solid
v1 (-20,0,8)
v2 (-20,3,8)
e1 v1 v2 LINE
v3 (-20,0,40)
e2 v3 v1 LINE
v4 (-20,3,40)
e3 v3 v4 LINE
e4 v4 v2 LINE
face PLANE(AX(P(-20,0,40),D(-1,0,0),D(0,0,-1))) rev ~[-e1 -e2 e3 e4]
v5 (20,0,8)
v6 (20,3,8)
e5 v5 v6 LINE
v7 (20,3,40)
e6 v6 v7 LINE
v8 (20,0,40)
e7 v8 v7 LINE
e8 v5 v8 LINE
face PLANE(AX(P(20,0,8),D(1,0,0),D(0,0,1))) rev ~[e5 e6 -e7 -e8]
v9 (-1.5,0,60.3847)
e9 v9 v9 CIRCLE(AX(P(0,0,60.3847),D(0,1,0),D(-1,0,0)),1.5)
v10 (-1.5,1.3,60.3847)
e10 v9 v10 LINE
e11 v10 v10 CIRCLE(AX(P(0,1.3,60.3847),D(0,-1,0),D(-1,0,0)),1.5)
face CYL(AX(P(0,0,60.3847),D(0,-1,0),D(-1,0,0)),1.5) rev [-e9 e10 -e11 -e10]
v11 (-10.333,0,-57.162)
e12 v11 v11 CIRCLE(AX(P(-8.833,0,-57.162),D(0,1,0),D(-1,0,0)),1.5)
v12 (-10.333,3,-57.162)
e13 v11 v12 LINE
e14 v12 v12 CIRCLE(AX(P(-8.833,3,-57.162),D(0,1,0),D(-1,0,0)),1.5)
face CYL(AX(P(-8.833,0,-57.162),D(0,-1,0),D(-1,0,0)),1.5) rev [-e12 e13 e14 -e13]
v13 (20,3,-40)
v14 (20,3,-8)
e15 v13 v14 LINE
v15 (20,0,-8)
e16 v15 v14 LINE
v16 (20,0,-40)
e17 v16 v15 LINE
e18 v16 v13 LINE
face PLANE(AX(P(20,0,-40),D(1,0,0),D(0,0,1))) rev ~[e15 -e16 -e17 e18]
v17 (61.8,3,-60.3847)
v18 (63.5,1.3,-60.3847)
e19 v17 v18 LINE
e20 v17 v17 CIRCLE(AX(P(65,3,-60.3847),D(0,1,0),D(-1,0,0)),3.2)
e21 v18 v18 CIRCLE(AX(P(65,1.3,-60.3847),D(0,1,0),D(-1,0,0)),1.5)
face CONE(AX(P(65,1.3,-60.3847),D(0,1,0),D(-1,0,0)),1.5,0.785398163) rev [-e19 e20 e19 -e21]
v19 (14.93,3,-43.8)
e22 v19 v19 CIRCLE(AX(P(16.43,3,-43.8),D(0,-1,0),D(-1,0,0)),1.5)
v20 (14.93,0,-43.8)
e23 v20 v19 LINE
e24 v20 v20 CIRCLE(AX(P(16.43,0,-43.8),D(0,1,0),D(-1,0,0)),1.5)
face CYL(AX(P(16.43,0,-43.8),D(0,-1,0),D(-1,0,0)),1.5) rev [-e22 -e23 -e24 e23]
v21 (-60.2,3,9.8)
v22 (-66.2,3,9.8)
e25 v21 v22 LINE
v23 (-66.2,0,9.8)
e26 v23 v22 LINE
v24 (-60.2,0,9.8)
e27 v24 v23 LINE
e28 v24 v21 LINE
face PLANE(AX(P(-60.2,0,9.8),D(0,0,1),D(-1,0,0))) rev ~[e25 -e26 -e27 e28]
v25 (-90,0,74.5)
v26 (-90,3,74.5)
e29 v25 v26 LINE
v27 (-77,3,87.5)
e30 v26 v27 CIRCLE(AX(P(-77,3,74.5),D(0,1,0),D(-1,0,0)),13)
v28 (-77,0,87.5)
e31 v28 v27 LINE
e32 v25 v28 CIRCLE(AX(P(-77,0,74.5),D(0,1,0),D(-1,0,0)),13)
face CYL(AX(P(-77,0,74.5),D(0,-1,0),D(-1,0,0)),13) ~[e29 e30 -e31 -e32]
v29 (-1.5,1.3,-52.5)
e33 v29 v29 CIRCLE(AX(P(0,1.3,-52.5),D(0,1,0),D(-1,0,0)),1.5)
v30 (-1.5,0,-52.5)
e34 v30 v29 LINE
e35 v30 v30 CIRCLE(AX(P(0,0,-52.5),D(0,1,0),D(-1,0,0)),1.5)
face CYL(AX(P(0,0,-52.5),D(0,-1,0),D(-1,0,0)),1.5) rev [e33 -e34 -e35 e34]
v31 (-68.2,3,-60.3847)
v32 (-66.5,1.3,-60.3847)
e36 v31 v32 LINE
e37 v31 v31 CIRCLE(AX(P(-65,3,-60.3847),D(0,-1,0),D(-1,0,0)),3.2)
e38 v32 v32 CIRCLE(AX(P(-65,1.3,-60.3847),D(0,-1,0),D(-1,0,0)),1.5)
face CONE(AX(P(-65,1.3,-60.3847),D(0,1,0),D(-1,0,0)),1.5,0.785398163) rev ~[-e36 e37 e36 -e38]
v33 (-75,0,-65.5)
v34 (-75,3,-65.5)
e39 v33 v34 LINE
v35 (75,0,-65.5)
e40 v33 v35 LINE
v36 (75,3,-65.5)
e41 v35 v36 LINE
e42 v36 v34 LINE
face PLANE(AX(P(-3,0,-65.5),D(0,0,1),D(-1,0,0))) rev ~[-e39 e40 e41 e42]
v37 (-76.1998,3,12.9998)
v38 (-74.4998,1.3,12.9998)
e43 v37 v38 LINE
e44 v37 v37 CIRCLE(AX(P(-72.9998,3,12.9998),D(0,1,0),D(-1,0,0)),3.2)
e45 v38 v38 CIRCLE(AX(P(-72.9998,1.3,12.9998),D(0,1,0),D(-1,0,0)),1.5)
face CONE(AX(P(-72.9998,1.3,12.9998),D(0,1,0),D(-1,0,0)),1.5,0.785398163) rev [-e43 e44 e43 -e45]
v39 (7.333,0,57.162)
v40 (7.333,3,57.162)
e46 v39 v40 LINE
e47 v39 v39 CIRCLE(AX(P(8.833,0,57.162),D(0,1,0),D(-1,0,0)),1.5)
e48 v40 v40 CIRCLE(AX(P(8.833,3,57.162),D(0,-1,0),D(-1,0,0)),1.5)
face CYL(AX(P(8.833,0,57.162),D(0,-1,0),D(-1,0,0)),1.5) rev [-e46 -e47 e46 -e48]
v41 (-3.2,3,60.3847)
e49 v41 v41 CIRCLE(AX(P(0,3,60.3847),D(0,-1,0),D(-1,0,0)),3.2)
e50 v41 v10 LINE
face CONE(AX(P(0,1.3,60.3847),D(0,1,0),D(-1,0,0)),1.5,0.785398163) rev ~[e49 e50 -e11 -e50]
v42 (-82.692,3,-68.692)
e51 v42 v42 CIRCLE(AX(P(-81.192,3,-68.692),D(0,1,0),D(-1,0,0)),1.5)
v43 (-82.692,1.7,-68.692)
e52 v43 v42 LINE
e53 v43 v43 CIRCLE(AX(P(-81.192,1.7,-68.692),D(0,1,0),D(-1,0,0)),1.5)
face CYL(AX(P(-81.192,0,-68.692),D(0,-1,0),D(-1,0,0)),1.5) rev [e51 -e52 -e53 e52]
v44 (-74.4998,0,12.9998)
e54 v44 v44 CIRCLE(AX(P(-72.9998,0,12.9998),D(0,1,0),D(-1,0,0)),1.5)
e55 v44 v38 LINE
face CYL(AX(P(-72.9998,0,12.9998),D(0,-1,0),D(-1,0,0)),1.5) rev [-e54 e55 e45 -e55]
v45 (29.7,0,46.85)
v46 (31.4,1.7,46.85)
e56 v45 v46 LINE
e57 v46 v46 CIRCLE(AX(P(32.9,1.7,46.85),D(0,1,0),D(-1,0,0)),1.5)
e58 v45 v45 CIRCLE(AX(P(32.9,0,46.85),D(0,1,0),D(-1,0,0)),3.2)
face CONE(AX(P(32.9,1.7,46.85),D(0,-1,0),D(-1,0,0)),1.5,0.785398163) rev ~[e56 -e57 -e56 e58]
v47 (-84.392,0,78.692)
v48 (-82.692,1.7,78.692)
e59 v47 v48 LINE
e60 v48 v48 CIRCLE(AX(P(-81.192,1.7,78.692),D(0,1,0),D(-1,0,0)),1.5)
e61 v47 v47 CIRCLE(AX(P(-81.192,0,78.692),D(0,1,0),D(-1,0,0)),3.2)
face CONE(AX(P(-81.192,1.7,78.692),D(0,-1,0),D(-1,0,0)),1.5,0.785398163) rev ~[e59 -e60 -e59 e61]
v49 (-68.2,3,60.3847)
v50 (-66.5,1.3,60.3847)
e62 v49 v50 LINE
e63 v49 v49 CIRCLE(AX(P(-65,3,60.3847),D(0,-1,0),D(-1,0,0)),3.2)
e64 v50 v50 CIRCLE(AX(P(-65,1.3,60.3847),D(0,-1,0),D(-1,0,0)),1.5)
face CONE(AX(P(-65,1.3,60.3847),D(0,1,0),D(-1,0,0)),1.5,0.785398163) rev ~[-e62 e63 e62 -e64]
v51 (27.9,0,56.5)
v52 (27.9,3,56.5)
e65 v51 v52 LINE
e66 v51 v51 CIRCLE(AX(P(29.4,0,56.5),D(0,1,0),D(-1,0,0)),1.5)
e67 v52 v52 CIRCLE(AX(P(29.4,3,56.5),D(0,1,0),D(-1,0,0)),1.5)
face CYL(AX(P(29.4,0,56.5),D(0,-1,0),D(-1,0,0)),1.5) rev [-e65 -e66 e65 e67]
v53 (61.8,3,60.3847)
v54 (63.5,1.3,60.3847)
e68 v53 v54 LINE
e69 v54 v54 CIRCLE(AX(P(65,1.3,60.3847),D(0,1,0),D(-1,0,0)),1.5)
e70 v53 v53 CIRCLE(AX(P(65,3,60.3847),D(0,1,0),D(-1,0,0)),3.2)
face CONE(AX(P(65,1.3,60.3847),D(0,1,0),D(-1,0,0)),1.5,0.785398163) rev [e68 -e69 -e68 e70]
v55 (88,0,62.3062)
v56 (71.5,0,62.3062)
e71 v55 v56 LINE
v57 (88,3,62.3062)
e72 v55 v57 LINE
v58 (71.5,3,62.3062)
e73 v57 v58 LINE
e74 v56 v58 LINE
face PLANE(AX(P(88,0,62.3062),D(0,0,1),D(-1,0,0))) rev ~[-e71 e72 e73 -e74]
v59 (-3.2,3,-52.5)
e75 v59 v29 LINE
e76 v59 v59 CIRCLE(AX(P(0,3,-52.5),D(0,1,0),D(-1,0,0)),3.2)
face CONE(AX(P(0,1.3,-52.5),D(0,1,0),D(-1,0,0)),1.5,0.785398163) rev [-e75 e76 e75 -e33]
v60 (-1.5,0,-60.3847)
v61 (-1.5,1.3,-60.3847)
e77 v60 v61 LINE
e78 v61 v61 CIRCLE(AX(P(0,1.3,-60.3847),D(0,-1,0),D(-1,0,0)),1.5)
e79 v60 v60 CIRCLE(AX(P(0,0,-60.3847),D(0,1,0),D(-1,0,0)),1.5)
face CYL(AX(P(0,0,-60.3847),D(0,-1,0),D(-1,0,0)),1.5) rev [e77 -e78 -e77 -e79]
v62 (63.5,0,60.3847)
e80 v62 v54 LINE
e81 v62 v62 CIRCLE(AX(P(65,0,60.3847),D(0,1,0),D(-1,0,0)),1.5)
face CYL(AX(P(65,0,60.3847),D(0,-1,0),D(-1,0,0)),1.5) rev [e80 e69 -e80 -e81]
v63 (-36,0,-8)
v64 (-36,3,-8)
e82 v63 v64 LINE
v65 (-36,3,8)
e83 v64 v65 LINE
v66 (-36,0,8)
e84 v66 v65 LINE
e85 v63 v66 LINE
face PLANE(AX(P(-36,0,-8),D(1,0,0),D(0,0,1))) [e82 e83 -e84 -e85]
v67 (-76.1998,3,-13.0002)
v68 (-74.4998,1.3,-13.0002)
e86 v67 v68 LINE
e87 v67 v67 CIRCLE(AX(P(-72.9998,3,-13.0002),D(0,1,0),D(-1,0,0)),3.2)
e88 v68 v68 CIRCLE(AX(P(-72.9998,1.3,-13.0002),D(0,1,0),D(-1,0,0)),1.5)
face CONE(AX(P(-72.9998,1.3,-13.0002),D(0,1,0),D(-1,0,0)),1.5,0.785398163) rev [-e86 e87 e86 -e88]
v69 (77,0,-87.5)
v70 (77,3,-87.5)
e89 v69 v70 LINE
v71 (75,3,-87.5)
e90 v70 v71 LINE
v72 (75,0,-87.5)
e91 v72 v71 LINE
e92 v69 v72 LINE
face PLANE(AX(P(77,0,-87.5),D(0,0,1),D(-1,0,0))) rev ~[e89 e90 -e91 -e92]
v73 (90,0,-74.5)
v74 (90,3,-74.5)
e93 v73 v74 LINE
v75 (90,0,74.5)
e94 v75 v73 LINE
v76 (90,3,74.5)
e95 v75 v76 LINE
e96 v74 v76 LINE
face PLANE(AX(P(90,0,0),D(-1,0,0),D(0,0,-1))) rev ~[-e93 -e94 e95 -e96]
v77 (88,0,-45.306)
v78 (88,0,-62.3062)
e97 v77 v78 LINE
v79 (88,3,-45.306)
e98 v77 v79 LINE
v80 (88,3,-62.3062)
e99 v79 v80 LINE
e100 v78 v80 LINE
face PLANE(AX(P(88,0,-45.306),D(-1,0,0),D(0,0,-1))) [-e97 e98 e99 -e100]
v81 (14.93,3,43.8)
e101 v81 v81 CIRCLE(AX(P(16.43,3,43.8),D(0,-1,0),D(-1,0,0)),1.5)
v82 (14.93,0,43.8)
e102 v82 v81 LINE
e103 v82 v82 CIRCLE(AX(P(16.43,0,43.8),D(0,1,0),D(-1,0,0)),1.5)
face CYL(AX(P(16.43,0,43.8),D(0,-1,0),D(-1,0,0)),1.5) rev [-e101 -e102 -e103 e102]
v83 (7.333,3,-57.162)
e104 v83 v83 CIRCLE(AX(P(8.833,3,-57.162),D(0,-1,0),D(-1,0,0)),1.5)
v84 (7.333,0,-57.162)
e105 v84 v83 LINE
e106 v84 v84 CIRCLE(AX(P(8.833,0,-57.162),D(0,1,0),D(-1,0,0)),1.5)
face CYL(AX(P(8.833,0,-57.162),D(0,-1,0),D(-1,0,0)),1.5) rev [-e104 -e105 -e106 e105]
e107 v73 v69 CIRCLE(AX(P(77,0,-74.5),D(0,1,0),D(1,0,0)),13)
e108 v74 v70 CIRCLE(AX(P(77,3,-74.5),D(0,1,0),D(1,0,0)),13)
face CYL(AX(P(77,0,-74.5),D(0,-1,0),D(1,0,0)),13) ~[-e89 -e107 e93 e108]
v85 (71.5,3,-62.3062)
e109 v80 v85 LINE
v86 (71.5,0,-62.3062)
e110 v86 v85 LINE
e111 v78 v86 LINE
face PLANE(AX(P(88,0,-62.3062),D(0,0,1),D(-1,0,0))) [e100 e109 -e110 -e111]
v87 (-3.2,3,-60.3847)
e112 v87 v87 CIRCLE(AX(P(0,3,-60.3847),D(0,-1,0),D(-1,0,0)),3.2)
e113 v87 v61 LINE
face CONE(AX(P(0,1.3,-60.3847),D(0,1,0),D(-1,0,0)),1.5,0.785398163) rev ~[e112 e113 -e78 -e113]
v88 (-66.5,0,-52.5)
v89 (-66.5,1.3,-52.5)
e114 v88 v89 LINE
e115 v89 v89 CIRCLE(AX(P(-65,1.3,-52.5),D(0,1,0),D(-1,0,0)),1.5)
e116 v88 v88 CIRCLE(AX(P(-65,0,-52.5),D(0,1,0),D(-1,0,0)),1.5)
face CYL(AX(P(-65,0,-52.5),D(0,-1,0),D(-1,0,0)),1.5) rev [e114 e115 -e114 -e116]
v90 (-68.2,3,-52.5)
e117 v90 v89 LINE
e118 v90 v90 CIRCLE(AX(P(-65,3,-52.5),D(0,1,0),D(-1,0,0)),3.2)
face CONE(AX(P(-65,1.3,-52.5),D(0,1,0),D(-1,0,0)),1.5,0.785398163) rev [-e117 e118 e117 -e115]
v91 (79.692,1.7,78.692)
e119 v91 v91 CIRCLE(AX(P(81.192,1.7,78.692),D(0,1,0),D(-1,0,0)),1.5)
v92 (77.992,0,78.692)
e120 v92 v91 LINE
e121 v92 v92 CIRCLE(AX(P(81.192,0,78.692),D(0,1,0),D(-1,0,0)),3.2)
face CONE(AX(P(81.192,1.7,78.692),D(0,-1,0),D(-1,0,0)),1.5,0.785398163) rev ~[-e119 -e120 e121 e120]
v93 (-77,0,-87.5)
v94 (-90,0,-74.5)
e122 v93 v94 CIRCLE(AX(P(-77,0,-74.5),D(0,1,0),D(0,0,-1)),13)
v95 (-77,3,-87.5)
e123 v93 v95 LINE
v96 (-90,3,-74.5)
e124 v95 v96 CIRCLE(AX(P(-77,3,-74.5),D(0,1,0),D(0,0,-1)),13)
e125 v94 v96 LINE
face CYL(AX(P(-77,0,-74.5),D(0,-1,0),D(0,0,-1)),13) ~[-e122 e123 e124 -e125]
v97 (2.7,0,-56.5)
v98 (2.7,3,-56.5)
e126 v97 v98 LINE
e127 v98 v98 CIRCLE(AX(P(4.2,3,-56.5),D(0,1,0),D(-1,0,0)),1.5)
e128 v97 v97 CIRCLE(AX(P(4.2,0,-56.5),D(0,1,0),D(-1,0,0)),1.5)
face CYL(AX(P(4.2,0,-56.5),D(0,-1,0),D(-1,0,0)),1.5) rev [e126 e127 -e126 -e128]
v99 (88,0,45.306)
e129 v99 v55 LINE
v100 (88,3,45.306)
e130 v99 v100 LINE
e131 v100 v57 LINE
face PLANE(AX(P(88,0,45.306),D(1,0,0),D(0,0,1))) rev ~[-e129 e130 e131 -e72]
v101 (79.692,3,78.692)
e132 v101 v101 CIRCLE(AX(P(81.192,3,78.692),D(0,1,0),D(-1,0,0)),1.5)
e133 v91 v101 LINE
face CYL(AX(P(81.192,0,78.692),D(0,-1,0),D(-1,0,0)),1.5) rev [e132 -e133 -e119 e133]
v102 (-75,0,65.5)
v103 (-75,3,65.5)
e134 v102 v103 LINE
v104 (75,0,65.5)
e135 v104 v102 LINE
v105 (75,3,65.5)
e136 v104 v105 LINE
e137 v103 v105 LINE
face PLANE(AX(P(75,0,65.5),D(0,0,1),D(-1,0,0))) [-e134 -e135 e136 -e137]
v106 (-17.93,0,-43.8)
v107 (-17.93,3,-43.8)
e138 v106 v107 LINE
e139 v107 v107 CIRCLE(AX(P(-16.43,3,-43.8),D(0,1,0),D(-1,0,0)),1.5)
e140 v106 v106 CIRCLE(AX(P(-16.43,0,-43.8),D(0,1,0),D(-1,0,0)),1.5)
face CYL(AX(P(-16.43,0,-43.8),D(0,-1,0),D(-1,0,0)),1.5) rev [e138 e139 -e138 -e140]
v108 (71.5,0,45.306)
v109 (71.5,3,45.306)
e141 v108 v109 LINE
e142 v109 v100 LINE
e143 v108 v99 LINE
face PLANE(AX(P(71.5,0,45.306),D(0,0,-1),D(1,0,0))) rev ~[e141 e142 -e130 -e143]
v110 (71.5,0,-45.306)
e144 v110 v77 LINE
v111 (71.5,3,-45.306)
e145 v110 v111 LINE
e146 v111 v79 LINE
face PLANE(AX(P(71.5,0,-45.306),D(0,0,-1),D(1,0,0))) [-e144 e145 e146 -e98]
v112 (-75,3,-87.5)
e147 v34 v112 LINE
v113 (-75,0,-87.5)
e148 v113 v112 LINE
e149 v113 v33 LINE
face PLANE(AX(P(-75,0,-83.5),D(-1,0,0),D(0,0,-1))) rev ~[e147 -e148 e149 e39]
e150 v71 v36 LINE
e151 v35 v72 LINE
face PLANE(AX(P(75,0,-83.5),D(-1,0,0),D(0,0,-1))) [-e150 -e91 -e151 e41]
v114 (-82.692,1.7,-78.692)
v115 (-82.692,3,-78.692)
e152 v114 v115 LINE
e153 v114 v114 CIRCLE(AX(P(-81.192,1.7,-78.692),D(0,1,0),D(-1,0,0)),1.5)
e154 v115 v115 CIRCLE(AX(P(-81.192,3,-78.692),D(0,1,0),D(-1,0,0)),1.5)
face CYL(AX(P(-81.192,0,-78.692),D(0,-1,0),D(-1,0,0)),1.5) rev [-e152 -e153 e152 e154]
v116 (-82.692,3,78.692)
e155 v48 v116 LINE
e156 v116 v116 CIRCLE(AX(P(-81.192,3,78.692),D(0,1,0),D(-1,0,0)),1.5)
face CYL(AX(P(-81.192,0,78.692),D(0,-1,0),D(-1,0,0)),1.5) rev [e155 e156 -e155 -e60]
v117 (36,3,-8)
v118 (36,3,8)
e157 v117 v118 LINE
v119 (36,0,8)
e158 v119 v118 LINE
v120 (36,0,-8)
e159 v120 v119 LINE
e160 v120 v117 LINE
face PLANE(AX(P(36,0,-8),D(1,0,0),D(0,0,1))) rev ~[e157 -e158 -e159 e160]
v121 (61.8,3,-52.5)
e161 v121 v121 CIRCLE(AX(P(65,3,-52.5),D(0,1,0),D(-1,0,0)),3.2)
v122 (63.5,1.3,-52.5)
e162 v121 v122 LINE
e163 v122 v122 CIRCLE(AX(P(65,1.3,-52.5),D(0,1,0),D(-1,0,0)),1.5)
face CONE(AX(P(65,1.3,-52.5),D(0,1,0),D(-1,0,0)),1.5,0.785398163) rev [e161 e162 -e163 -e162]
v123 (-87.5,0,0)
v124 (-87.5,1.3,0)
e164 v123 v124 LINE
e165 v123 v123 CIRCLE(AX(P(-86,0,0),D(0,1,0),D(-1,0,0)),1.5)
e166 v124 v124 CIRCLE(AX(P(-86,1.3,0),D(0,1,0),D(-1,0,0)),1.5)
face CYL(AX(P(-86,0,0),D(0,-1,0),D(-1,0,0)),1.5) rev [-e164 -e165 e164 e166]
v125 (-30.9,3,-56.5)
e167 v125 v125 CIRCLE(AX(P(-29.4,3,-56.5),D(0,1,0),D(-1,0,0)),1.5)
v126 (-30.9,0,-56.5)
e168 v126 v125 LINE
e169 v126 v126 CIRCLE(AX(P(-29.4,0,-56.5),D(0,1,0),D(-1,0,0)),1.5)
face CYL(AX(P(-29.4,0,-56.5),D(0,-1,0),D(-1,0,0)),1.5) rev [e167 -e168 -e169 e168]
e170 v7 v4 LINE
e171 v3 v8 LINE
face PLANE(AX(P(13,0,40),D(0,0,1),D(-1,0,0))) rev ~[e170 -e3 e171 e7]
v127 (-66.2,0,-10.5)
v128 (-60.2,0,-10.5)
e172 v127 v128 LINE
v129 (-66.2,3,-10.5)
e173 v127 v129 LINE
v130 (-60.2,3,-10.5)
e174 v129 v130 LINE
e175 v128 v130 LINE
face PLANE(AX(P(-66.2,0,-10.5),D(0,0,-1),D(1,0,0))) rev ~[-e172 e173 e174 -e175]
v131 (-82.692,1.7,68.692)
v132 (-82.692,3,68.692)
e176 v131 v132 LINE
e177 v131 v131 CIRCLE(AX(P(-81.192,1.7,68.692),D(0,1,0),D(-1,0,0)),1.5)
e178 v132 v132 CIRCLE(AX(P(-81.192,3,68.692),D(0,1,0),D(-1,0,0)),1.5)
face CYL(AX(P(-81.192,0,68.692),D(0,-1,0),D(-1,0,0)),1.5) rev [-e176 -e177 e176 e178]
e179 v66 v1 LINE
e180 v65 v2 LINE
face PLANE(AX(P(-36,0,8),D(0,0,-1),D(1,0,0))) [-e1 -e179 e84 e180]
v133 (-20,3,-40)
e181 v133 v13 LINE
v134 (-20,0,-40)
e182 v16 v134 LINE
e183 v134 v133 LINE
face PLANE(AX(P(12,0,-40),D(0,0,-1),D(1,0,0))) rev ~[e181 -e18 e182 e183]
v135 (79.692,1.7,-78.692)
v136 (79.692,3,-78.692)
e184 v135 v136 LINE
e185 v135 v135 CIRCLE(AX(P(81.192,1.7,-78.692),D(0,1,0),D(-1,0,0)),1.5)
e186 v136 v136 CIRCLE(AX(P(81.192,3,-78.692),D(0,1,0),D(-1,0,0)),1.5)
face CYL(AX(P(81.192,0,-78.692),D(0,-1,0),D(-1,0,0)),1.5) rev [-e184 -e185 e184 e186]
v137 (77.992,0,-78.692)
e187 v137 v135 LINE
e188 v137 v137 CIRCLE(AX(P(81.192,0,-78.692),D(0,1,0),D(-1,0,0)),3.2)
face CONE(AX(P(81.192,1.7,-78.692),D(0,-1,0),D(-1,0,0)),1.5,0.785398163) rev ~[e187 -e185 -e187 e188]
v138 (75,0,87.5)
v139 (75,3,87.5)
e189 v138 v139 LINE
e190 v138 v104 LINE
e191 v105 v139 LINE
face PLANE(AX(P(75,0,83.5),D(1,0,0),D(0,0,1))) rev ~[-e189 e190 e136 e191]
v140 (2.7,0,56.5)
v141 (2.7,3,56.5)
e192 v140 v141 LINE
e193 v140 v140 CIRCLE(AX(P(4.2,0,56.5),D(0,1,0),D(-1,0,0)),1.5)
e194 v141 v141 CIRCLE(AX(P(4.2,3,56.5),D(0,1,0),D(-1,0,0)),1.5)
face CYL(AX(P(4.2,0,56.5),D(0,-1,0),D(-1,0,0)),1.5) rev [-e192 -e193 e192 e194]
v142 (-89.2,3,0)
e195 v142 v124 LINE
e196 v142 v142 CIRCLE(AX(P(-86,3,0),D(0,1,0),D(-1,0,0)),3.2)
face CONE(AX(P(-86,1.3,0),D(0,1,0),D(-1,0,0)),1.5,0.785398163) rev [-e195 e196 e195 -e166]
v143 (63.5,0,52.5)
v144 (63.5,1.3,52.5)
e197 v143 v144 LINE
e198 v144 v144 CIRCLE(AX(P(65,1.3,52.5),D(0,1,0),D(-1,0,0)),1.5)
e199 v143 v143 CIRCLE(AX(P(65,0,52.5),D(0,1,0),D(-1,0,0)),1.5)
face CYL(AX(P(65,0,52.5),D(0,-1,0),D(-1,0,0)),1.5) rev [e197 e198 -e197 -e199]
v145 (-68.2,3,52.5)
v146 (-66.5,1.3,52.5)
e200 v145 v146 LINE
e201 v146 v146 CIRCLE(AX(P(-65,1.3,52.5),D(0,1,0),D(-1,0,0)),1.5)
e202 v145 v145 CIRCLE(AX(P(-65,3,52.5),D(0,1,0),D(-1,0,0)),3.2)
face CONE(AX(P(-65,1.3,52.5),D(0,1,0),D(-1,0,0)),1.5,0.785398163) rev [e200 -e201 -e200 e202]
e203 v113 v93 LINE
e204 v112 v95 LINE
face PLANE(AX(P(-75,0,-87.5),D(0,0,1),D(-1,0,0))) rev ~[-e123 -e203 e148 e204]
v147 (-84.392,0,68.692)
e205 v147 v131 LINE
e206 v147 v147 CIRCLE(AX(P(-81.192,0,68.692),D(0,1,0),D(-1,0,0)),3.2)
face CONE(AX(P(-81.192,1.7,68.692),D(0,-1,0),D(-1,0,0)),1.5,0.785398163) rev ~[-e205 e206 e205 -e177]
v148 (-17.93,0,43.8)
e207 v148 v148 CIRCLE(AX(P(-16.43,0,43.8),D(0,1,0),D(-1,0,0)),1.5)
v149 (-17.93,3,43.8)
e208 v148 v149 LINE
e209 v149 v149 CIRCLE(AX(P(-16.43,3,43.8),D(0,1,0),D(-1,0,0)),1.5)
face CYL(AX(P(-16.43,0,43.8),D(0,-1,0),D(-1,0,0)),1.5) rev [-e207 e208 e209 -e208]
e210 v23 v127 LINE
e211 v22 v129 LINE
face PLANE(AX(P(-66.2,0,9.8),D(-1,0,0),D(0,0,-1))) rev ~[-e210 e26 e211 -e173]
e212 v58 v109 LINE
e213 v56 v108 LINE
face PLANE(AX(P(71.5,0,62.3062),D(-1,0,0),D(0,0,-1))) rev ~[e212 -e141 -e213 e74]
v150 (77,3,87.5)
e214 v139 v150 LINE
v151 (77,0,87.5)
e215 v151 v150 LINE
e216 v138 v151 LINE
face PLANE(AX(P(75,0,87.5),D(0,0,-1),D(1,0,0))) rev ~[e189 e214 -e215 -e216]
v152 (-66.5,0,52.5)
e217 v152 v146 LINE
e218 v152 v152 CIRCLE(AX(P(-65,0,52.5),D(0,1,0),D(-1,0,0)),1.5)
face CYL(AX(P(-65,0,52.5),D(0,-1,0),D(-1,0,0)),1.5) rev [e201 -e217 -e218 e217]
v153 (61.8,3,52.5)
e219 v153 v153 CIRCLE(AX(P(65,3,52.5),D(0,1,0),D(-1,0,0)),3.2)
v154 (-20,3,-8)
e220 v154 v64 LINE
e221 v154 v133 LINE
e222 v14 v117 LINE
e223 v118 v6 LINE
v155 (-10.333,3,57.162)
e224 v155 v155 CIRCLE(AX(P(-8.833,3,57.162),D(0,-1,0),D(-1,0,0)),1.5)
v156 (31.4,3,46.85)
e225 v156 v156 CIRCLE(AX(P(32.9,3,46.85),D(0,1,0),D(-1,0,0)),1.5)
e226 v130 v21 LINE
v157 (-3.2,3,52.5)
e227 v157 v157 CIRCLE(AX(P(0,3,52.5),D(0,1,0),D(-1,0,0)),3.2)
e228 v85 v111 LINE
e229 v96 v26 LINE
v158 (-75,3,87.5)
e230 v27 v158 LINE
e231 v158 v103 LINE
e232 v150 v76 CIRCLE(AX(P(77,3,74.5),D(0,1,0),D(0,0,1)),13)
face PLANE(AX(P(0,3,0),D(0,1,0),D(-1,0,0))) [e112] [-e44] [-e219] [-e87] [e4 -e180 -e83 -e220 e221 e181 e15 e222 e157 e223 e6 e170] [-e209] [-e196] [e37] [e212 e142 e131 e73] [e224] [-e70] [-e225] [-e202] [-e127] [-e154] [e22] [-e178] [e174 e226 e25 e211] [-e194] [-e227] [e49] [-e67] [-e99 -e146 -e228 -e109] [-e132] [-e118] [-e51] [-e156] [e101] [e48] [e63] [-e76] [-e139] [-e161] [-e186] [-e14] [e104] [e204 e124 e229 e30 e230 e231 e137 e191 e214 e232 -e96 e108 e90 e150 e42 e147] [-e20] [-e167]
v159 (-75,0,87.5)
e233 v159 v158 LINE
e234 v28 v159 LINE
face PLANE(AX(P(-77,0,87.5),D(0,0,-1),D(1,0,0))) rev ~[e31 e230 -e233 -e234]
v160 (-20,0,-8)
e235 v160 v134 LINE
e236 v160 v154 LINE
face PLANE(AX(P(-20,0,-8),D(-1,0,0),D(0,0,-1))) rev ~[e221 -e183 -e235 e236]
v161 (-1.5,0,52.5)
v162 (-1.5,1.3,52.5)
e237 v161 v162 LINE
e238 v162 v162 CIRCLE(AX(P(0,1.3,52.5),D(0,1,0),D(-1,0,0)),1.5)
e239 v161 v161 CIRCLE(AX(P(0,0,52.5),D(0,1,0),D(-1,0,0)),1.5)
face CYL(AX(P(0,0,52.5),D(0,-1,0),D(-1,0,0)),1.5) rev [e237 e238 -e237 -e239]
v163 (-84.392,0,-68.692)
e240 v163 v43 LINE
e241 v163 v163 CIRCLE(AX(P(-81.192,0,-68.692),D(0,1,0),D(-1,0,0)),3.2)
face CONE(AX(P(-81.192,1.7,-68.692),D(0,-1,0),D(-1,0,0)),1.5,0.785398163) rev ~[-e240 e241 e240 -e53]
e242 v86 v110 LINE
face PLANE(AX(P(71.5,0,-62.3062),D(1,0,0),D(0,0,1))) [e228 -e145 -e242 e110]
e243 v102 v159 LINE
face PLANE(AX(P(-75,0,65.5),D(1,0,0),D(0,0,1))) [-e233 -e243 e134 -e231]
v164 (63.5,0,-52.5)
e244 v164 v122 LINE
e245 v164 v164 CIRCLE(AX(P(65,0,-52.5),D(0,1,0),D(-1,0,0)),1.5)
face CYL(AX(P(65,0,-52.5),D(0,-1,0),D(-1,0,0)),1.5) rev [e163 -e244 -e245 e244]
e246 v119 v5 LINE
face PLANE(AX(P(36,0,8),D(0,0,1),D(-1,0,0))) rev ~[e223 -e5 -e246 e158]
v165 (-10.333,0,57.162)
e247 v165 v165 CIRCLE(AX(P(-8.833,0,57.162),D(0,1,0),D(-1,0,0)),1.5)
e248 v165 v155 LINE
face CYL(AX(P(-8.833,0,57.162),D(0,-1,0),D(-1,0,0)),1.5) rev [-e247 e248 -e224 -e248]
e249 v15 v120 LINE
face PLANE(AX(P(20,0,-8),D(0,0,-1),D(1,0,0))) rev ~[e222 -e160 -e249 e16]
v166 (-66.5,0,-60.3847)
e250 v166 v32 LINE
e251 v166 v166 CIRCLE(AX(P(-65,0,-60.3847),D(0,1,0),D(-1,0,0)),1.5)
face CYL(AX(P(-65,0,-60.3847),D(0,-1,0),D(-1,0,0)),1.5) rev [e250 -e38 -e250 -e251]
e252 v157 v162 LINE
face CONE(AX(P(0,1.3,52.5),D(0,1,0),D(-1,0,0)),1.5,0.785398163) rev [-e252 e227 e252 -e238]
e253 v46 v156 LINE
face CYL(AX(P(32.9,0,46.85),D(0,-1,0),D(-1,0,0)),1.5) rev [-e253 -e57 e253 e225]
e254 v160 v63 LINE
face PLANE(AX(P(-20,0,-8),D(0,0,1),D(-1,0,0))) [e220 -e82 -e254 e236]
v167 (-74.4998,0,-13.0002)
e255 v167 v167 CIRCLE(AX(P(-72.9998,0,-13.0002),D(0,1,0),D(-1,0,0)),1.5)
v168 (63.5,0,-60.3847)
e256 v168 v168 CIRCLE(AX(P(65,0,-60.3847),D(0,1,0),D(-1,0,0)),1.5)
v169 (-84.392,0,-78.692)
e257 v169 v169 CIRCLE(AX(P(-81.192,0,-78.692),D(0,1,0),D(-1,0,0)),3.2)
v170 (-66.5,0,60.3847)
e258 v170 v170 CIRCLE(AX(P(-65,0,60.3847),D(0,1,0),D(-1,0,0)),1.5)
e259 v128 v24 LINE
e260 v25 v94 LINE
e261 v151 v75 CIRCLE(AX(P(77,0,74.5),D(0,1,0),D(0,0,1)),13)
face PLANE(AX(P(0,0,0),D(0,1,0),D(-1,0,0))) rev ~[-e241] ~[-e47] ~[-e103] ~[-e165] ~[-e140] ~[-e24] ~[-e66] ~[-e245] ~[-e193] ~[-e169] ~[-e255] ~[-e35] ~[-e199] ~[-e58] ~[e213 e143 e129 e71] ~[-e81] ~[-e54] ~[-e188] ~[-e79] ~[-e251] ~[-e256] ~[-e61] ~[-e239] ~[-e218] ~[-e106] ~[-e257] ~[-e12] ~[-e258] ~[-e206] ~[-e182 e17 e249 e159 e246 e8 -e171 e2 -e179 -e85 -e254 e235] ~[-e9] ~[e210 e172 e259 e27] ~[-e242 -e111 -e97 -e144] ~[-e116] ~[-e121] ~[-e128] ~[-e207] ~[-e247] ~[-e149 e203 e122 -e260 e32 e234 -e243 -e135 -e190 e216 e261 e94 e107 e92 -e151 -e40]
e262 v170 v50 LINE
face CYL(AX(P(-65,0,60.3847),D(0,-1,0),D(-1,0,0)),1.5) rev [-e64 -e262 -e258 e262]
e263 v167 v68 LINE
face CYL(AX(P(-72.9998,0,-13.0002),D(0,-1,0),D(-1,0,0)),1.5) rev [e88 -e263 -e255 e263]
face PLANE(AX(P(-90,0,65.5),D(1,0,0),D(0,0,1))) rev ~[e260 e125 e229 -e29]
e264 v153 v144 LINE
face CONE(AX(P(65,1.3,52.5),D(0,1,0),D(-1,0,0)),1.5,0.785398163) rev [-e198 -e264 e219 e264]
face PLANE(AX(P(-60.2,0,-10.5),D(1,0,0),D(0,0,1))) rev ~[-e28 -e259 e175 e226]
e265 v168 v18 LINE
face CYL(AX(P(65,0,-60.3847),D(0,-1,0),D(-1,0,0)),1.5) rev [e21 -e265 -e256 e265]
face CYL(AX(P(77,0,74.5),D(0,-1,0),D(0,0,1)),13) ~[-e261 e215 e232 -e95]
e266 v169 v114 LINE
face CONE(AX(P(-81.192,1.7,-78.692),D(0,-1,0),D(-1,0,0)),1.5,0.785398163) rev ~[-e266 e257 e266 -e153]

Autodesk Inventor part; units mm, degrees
ref_plane "YZ Plane" through (0, 0, 0) normal (1, 0, 0) x (0, 1, 0)
ref_plane "XZ Plane" through (0, 0, 0) normal (0, 1, 0) x (-1, 0, 0)
ref_plane "XY Plane" through (0, 0, 0) normal (0, 0, 1) x (1, 0, 0)
sketch "Эскиз1" plane through (0, 0, 0) normal (0, 1, 0) x (-1, 0, 0)
  line L0 (-77, -87.5) -> (77, -87.5)
  line L1 (90, -74.5) -> (90, 74.5)
  line L2 (77, 87.5) -> (-77, 87.5)
  line L3 (-90, 74.5) -> (-90, -74.5)
  line L4 (90, 0) -> (-90, 0) construction
  line L5 (0, -87.5) -> (0, 87.5) construction
  arc A0 (90, 74.5) -> (77, 87.5) centre (77, 74.5) ccw
  arc A1 (77, -87.5) -> (90, -74.5) centre (77, -74.5) ccw
  arc A2 (-90, -74.5) -> (-77, -87.5) centre (-77, -74.5) ccw
  arc A3 (-77, 87.5) -> (-90, 74.5) centre (-77, 74.5) ccw
  line L6 (75, 83.5) -> (-75, 83.5)
  line L7 (-75, 83.5) -> (-75, 65.5)
  line L8 (-75, 65.5) -> (75, 65.5)
  line L9 (75, 65.5) -> (75, 83.5)
  line L10 (0, 87.5) -> (0, -87.5) construction
  line L11 (75, -83.5) -> (-75, -83.5)
  line L12 (-75, -83.5) -> (-75, -65.5)
  line L13 (-75, -65.5) -> (75, -65.5)
  line L14 (75, -65.5) -> (75, -83.5)
  line L15 (90, 49.8397) -> (90, 20.3597)
  line L16 (0, 65.5) -> (42, 65.5)
  line L17 (90, -32.9125) -> (90, 38.6688)
  line L18 (68, 60) -> (-12, 60)
  line L19 (-12, 60) -> (-12, -60)
  line L20 (-12, -60) -> (68, -60)
  line L21 (68, -60) -> (68, 60)
  line L22 (60, 60) -> (57.2, 60)
  line L23 (60, 57.2) -> (60, 60)
  circle A4 centre (65.2, 57.2) radius 1.5
  line L24 (20, 60) -> (20, -60) construction
  circle A5 centre (65.2, -57.2) radius 1.5
  circle A6 centre (-9.2, 57.2) radius 1.5
  circle A7 centre (-9.2, -57.2) radius 1.5
  line L25 (-20, 0) -> (-25, 0) construction
  line L26 (-25, 0) -> (-81, 0) construction
  line L27 (-13, 42.5) -> (-69, 42.5)
  line L28 (-69, 42.5) -> (-69, -42.5)
  line L29 (-69, -42.5) -> (-13, -42.5)
  line L30 (-13, -42.5) -> (-13, 42.5)
  line L31 (-25, 42.5) -> (-28.7, 42.5)
  line L32 (-25, 38.8) -> (-25, 42.5)
  circle A8 centre (-16.7, 38.8) radius 1.5
  line L33 (-53, 42.5) -> (-53, -42.5) construction
  line L34 (-25, 0) -> (-81, 0) construction
  line L35 (-16.7, 38.8) -> (-16.7, -19.2) construction
  circle A9 centre (-16.7, -19.2) radius 1.5
  circle A10 centre (-65.3, 38.8) radius 1.5
  circle A11 centre (-65.3, -19.2) radius 1.5
  line L36 (90, 60.5) -> (90, 65.5)
  circle A12 centre (65, 60.3847) radius 1.5
  circle A13 centre (65, 52.5) radius 1.5
  line L37 (32.5, 60.3847) -> (32.5, -60) construction
  circle A14 centre (0, 60.3847) radius 1.5
  circle A15 centre (0, 52.5) radius 1.5
  circle A16 centre (-65, 60.3847) radius 1.5
  circle A17 centre (-65, 52.5) radius 1.5
  circle A18 centre (65, -60.3847) radius 1.5
  circle A19 centre (65, -52.5) radius 1.5
  circle A20 centre (0, -60.3847) radius 1.5
  circle A21 centre (0, -52.5) radius 1.5
  circle A22 centre (-65, -60.3847) radius 1.5
  circle A23 centre (-65, -52.5) radius 1.5
  circle A24 centre (86, 0) radius 1.5
  line L38 (86, 0) -> (104.385, 0) construction
  circle A25 centre (72.9998, -13.0002) radius 1.5
  circle A26 centre (72.9998, 12.9998) radius 1.5
  line L39 (90, -19.2) -> (75, -19.2)
  line L40 (75, -19.2) -> (75, 22.1472)
  line L41 (75, 22.1472) -> (90, 22.1472)
  line L42 (90, 22.1472) -> (90, -19.2)
  line L43 (-90, 8.1057) -> (-90, 0)
  line L44 (0, 0) -> (-12, 0)
  line L45 (-12, 5.1924) -> (-12, 5.1924)
  line L46 (75, 78.692) -> (75, 65.5)
  circle A27 centre (81.192, 78.692) radius 1.5
  circle A28 centre (81.192, -78.692) radius 1.5
  circle A29 centre (81.192, 68.692) radius 1.5
  circle A30 centre (81.192, -68.692) radius 1.5
  line L47 (66.2, 9.8) -> (66.2, -10.5)
  line L48 (66.2, -10.5) -> (60.2, -10.5)
  line L49 (60.2, -10.5) -> (60.2, 9.8)
  line L50 (60.2, 9.8) -> (66.2, 9.8)
  circle A31 centre (-81.192, -78.692) radius 1.5
  circle A32 centre (-81.192, 78.692) radius 1.5
  line L51 (0, 0) -> (-71.5, 0) construction
  line L52 (-71.5, 0) -> (-71.5, 45.306) construction
  line L53 (-71.5, 45.306) -> (0, 45.306) construction
  line L54 (0, 45.306) -> (0, 0) construction
  line L55 (-71.5, 45.306) -> (-88, 45.306)
  line L56 (-88, 45.306) -> (-88, 62.3062)
  line L57 (-88, 62.3062) -> (-71.5, 62.3062)
  line L58 (-71.5, 62.3062) -> (-71.5, 45.306)
  line L59 (-71.5, -45.306) -> (-88, -45.306)
  line L60 (-88, -45.306) -> (-88, -62.3062)
  line L61 (-88, -62.3062) -> (-71.5, -62.3062)
  line L62 (-71.5, -62.3062) -> (-71.5, -45.306)
  line L63 (20, -40) -> (-20, -40)
  line L64 (-20, -40) -> (-20, 40)
  line L65 (-20, 40) -> (20, 40)
  line L66 (20, 40) -> (20, -40)
  line L67 (20, 0) -> (-20, 0) construction
  line L68 (0, -40) -> (0, 40) construction
  line L69 (0, 65.5) -> (-4.2, 65.5) construction
  line L70 (-4.2, 65.5) -> (-4.2, 56.5) construction
  line L71 (-4.2, 56.5) -> (0, 56.5) construction
  line L72 (0, 56.5) -> (0, 65.5) construction
  circle A33 centre (-4.2, 56.5) radius 1.5
  line L73 (0, 65.5) -> (-29.4, 65.5) construction
  line L74 (-29.4, 65.5) -> (-29.4, 56.5) construction
  line L75 (-29.4, 56.5) -> (0, 56.5) construction
  line L76 (0, 56.5) -> (0, 65.5) construction
  circle A34 centre (-29.4, 56.5) radius 1.5
  circle A35 centre (-4.2, -56.5) radius 1.5
  circle A36 centre (29.4, -56.5) radius 1.5
  line L77 (0, 60.3847) -> (8.833, 60.3847)
  line L78 (8.833, 60.3847) -> (8.833, 57.162)
  line L79 (8.833, 57.162) -> (0, 57.162)
  line L80 (0, 57.162) -> (0, 60.3847)
  circle A37 centre (8.833, 57.162) radius 1.5
  circle A38 centre (-8.833, 57.162) radius 1.5
  circle A39 centre (8.833, -57.162) radius 1.5
  circle A40 centre (-8.833, -57.162) radius 1.5
  line L81 (-20, 0) -> (-20, -8)
  line L82 (-20, -8) -> (-36, -8)
  line L83 (-36, -8) -> (-36, 8)
  line L84 (-36, 8) -> (-20, 8)
  line L85 (-20, 8) -> (-20, -8)
  line L86 (20, -8) -> (36, -8)
  line L87 (36, -8) -> (36, 8)
  line L88 (36, 8) -> (20, 8)
  line L89 (20, 8) -> (20, -8)
  line L90 (0, 0) -> (16.43, 0) construction
  line L91 (16.43, 0) -> (16.43, 43.8) construction
  line L92 (16.43, 43.8) -> (0, 43.8) construction
  line L93 (0, 43.8) -> (0, 0) construction
  circle A41 centre (16.43, 43.8) radius 1.5
  circle A42 centre (-16.43, 43.8) radius 1.5
  circle A43 centre (16.43, -43.8) radius 1.5
  circle A44 centre (-16.43, -43.8) radius 1.5
  line L94 (0, 0) -> (-32.9, 0) construction
  line L95 (-32.9, 0) -> (-32.9, 46.85) construction
  line L96 (-32.9, 46.85) -> (0, 46.85) construction
  line L97 (0, 46.85) -> (0, 0) construction
  circle A45 centre (-32.9, 46.85) radius 1.5
  line L98 (0, -83.5) -> (3, -83.5)
  line L99 (3, -83.5) -> (-3, -83.5)
  line L100 (-3, -83.5) -> (-3, -65.5)
  line L101 (-3, -65.5) -> (3, -65.5)
  line L102 (3, -65.5) -> (3, -83.5)
  line L103 (-3, 83.5) -> (-3, 65.5)
  line L104 (3, 65.5) -> (3, 83.5)
  line L105 (75, 83.5) -> (75, 87.5)
  line L106 (-75, 83.5) -> (-75, 87.5)
  line L107 (75, -83.5) -> (75, -87.5)
  line L108 (-75, -83.5) -> (-75, -87.5)
  point P0 (90, 87.5)
  point P1 (90, -87.5)
  point P2 (-90, 87.5)
  point P3 (-77, -74.5)
  point P4 (60, 0)
  point P5 (75, 0)
  point P6 (60, 0)
  point P7 (-60, 0)
  point P8 (-4, 0)
  point P9 (-5, 0)
  point P10 (-15, 0)
  point P11 (-70, 0)
  point P12 (-14, 0)
  point P13 (-28.7, -19.2)
  point P14 (-17.7, -19.2)
  point P15 (-13, 0)
  point P16 (-14, 0)
  point P17 (-17.6, 40)
  point P18 (-15.8, 40)
  dimension "d0" = 180
  dimension "d1" = 175
  dimension "d2" = 13
  dimension "d7" = 150
  dimension "d8" = 18
  dimension "d13" = 80
  dimension "d14" = 120
  dimension "d21" = 56
  dimension "d22" = 85
  dimension "d25" = 3
  dimension "d26" = 58
  dimension "d27" = 3
  dimension "d30" = 3
  dimension "d32" = 3
  dimension "d33" = 32.5
  dimension "d54" = 3
  dimension "d58" = 3
  dimension "d59" = 3
  dimension "d60" = 15
  dimension "d62" = 12
  dimension "d68" = 3
  dimension "d70" = 3
  dimension "d72" = 20.3
  dimension "d73" = 6
  dimension "d76" = 3
  dimension "d77" = 71.5
  dimension "d78" = 45.306
  dimension "d79" = 40
  dimension "d80" = 80
  dimension "d81" = 4.2
  dimension "d82" = 9
  dimension "d83" = 3
  dimension "d84" = 29.4
  dimension "d85" = 9
  dimension "d86" = 3
  dimension "d87" = 3
  dimension "d88" = 8
  dimension "d89" = 16
  dimension "d90" = 16
  dimension "d91" = 16.43
  dimension "d92" = 43.8
  dimension "d93" = 3
  dimension "d94" = 3
  dimension "d104" = 3
  dimension "d105" = 6
sketch "Эскиз2" plane through (0, 0, 0) normal (0, 1, 0) x (-1, 0, 0)
  line L0 (77, 87.5) -> (-77, 87.5)
  line L1 (-90, 74.5) -> (-90, -74.5)
  line L2 (-77, -87.5) -> (77, -87.5)
  line L3 (90, -74.5) -> (90, 74.5)
  line L4 (90, 0) -> (-90, 0) construction
  line L5 (0, 87.5) -> (0, -87.5) construction
  arc A0 (90, 74.5) -> (77, 87.5) centre (77, 74.5) ccw
  arc A1 (-77, 87.5) -> (-90, 74.5) centre (-77, 74.5) ccw
  arc A2 (-90, -74.5) -> (-77, -87.5) centre (-77, -74.5) ccw
  arc A3 (77, -87.5) -> (90, -74.5) centre (77, -74.5) ccw
  line L6 (150, -150) -> (-150, -150)
  line L7 (-150, -150) -> (-150, 150)
  line L8 (-150, 150) -> (150, 150)
  line L9 (150, 150) -> (150, -150)
  line L10 (150, 0) -> (-150, 0) construction
  line L11 (0, -150) -> (0, 150) construction
  circle A4 centre (0, 0) radius 150
  line L12 (75, -74.5) -> (75, -83.5)
  line L13 (75, -83.5) -> (-75, -83.5)
  line L14 (-75, -83.5) -> (-75, -65.5)
  line L15 (-75, -65.5) -> (75, -65.5)
  line L16 (75, -65.5) -> (75, -83.5)
  line L17 (75, 74.5) -> (75, 83.5)
  line L18 (75, 83.5) -> (-75, 83.5)
  line L19 (-75, 83.5) -> (-75, 65.5)
  line L20 (-75, 65.5) -> (75, 65.5)
  line L21 (75, 65.5) -> (75, 83.5)
  line L22 (0, -65.5) -> (42, -65.5)
  line L23 (42, -65.5) -> (77, -65.5)
  line L24 (77, -65.5) -> (77, -82.3082)
  line L25 (77, -82.3082) -> (42, -82.3082)
  line L26 (77, -65.5) -> (7, -65.5)
  line L27 (7, -65.5) -> (7, -82.3082)
  line L28 (7, -82.3082) -> (77, -82.3082)
  line L29 (77, -82.3082) -> (77, -65.5)
  line L30 (-42, -65.5) -> (-77, -65.5)
  line L31 (-77, -65.5) -> (-77, -82.3082)
  line L32 (-7, -65.5) -> (-7, -82.3082)
  line L33 (-7, -82.3082) -> (-77, -82.3082)
  line L34 (42, -65.5) -> (29.5, -65.5)
  line L35 (29.5, -10.5) -> (54.5, -10.5)
  line L36 (54.5, -10.5) -> (54.5, -65.5)
  line L37 (54.5, -65.5) -> (29.5, -65.5)
  line L38 (29.5, -65.5) -> (29.5, -10.5)
  line L39 (29.5, 10.5) -> (54.5, 10.5)
  line L40 (54.5, 10.5) -> (54.5, 65.5)
  line L41 (29.5, 65.5) -> (29.5, 10.5)
  line L42 (-29.5, -10.5) -> (-54.5, -10.5)
  line L43 (-54.5, -10.5) -> (-54.5, -65.5)
  line L44 (-29.5, -65.5) -> (-29.5, -10.5)
  line L45 (-29.5, 65.5) -> (-29.5, 10.5)
  line L46 (-29.5, 10.5) -> (-54.5, 10.5)
  line L47 (-54.5, 10.5) -> (-54.5, 65.5)
  point P0 (0, 0)
  point P1 (-90, -87.5)
  point P2 (-90, 87.5)
  point P3 (90, -87.5)
  point P4 (-80.411, -84.4848)
  point P5 (77, 74.5)
  point P6 (-7, -73.9041)
  point P7 (7, -73.9041)
  dimension "d34" = 180
  dimension "d35" = 175
  dimension "d36" = 13
  dimension "d37" = 300
  dimension "d38" = 300
  dimension "d41" = 150
  dimension "d42" = 18
  dimension "d44" = 35
  dimension "d45" = 70
  dimension "d46" = 14
  dimension "d47" = 84
  dimension "d50" = 25
extrude "Выдавливание1" add sketch "Эскиз1" along normal blind 3 contours A2 L3 A3 L2 L106 L7 L8 L9 L105 A0 L1 L41 L40 L39 A1 L0 L107 L14 L13 L12 L108 | L39 L40 L41 L1 | L18 A12 L21 L20 A18 A20 L19 L63 L66 L86 L87 L88 L65 A14 L80 L79 A37 L78 | L78 A37 L79 L80 A14 L18 | L18 A14 L77 L78 | L65 A8 L64 L84 L83 L82 L63 L30 L29 A44 L28 L27 A42 | L65 A8 | A4 | A5 | A38 A6 | A40 A7 | A10 | A11 picked at (-16.908, 40.0547) picked at (-10.5675, 57.2211) picked at (-10.5675, -57.2211)
chamfer "Фаска3" distance 1.7 angle 45 22 edges at (-63.5, 3, 52.5) (-63.5, 3, 60.3847) (1.5, 3, 52.5) (1.5, 3, 60.3847) (66.5, 3, 52.5) (66.5, 3, 60.3847) (66.5, 3, -60.3847) (66.5, 3, -52.5) (1.5, 3, -60.3847) (1.5, 3, -52.5) (-63.5, 3, -52.5) (-63.5, 3, -60.3847) (-71.4998, 3, 12.9998) (-84.5, 3, 0) (-71.4998, 3, -13.0002) (34.4, 0, 46.85) (-79.692, 0, 78.692) (-79.692, 0, 68.692) (82.692, 0, 78.692) (82.692, 0, -78.692) (-79.692, 0, -78.692) (-79.692, 0, -68.692)
properties part number "base"
